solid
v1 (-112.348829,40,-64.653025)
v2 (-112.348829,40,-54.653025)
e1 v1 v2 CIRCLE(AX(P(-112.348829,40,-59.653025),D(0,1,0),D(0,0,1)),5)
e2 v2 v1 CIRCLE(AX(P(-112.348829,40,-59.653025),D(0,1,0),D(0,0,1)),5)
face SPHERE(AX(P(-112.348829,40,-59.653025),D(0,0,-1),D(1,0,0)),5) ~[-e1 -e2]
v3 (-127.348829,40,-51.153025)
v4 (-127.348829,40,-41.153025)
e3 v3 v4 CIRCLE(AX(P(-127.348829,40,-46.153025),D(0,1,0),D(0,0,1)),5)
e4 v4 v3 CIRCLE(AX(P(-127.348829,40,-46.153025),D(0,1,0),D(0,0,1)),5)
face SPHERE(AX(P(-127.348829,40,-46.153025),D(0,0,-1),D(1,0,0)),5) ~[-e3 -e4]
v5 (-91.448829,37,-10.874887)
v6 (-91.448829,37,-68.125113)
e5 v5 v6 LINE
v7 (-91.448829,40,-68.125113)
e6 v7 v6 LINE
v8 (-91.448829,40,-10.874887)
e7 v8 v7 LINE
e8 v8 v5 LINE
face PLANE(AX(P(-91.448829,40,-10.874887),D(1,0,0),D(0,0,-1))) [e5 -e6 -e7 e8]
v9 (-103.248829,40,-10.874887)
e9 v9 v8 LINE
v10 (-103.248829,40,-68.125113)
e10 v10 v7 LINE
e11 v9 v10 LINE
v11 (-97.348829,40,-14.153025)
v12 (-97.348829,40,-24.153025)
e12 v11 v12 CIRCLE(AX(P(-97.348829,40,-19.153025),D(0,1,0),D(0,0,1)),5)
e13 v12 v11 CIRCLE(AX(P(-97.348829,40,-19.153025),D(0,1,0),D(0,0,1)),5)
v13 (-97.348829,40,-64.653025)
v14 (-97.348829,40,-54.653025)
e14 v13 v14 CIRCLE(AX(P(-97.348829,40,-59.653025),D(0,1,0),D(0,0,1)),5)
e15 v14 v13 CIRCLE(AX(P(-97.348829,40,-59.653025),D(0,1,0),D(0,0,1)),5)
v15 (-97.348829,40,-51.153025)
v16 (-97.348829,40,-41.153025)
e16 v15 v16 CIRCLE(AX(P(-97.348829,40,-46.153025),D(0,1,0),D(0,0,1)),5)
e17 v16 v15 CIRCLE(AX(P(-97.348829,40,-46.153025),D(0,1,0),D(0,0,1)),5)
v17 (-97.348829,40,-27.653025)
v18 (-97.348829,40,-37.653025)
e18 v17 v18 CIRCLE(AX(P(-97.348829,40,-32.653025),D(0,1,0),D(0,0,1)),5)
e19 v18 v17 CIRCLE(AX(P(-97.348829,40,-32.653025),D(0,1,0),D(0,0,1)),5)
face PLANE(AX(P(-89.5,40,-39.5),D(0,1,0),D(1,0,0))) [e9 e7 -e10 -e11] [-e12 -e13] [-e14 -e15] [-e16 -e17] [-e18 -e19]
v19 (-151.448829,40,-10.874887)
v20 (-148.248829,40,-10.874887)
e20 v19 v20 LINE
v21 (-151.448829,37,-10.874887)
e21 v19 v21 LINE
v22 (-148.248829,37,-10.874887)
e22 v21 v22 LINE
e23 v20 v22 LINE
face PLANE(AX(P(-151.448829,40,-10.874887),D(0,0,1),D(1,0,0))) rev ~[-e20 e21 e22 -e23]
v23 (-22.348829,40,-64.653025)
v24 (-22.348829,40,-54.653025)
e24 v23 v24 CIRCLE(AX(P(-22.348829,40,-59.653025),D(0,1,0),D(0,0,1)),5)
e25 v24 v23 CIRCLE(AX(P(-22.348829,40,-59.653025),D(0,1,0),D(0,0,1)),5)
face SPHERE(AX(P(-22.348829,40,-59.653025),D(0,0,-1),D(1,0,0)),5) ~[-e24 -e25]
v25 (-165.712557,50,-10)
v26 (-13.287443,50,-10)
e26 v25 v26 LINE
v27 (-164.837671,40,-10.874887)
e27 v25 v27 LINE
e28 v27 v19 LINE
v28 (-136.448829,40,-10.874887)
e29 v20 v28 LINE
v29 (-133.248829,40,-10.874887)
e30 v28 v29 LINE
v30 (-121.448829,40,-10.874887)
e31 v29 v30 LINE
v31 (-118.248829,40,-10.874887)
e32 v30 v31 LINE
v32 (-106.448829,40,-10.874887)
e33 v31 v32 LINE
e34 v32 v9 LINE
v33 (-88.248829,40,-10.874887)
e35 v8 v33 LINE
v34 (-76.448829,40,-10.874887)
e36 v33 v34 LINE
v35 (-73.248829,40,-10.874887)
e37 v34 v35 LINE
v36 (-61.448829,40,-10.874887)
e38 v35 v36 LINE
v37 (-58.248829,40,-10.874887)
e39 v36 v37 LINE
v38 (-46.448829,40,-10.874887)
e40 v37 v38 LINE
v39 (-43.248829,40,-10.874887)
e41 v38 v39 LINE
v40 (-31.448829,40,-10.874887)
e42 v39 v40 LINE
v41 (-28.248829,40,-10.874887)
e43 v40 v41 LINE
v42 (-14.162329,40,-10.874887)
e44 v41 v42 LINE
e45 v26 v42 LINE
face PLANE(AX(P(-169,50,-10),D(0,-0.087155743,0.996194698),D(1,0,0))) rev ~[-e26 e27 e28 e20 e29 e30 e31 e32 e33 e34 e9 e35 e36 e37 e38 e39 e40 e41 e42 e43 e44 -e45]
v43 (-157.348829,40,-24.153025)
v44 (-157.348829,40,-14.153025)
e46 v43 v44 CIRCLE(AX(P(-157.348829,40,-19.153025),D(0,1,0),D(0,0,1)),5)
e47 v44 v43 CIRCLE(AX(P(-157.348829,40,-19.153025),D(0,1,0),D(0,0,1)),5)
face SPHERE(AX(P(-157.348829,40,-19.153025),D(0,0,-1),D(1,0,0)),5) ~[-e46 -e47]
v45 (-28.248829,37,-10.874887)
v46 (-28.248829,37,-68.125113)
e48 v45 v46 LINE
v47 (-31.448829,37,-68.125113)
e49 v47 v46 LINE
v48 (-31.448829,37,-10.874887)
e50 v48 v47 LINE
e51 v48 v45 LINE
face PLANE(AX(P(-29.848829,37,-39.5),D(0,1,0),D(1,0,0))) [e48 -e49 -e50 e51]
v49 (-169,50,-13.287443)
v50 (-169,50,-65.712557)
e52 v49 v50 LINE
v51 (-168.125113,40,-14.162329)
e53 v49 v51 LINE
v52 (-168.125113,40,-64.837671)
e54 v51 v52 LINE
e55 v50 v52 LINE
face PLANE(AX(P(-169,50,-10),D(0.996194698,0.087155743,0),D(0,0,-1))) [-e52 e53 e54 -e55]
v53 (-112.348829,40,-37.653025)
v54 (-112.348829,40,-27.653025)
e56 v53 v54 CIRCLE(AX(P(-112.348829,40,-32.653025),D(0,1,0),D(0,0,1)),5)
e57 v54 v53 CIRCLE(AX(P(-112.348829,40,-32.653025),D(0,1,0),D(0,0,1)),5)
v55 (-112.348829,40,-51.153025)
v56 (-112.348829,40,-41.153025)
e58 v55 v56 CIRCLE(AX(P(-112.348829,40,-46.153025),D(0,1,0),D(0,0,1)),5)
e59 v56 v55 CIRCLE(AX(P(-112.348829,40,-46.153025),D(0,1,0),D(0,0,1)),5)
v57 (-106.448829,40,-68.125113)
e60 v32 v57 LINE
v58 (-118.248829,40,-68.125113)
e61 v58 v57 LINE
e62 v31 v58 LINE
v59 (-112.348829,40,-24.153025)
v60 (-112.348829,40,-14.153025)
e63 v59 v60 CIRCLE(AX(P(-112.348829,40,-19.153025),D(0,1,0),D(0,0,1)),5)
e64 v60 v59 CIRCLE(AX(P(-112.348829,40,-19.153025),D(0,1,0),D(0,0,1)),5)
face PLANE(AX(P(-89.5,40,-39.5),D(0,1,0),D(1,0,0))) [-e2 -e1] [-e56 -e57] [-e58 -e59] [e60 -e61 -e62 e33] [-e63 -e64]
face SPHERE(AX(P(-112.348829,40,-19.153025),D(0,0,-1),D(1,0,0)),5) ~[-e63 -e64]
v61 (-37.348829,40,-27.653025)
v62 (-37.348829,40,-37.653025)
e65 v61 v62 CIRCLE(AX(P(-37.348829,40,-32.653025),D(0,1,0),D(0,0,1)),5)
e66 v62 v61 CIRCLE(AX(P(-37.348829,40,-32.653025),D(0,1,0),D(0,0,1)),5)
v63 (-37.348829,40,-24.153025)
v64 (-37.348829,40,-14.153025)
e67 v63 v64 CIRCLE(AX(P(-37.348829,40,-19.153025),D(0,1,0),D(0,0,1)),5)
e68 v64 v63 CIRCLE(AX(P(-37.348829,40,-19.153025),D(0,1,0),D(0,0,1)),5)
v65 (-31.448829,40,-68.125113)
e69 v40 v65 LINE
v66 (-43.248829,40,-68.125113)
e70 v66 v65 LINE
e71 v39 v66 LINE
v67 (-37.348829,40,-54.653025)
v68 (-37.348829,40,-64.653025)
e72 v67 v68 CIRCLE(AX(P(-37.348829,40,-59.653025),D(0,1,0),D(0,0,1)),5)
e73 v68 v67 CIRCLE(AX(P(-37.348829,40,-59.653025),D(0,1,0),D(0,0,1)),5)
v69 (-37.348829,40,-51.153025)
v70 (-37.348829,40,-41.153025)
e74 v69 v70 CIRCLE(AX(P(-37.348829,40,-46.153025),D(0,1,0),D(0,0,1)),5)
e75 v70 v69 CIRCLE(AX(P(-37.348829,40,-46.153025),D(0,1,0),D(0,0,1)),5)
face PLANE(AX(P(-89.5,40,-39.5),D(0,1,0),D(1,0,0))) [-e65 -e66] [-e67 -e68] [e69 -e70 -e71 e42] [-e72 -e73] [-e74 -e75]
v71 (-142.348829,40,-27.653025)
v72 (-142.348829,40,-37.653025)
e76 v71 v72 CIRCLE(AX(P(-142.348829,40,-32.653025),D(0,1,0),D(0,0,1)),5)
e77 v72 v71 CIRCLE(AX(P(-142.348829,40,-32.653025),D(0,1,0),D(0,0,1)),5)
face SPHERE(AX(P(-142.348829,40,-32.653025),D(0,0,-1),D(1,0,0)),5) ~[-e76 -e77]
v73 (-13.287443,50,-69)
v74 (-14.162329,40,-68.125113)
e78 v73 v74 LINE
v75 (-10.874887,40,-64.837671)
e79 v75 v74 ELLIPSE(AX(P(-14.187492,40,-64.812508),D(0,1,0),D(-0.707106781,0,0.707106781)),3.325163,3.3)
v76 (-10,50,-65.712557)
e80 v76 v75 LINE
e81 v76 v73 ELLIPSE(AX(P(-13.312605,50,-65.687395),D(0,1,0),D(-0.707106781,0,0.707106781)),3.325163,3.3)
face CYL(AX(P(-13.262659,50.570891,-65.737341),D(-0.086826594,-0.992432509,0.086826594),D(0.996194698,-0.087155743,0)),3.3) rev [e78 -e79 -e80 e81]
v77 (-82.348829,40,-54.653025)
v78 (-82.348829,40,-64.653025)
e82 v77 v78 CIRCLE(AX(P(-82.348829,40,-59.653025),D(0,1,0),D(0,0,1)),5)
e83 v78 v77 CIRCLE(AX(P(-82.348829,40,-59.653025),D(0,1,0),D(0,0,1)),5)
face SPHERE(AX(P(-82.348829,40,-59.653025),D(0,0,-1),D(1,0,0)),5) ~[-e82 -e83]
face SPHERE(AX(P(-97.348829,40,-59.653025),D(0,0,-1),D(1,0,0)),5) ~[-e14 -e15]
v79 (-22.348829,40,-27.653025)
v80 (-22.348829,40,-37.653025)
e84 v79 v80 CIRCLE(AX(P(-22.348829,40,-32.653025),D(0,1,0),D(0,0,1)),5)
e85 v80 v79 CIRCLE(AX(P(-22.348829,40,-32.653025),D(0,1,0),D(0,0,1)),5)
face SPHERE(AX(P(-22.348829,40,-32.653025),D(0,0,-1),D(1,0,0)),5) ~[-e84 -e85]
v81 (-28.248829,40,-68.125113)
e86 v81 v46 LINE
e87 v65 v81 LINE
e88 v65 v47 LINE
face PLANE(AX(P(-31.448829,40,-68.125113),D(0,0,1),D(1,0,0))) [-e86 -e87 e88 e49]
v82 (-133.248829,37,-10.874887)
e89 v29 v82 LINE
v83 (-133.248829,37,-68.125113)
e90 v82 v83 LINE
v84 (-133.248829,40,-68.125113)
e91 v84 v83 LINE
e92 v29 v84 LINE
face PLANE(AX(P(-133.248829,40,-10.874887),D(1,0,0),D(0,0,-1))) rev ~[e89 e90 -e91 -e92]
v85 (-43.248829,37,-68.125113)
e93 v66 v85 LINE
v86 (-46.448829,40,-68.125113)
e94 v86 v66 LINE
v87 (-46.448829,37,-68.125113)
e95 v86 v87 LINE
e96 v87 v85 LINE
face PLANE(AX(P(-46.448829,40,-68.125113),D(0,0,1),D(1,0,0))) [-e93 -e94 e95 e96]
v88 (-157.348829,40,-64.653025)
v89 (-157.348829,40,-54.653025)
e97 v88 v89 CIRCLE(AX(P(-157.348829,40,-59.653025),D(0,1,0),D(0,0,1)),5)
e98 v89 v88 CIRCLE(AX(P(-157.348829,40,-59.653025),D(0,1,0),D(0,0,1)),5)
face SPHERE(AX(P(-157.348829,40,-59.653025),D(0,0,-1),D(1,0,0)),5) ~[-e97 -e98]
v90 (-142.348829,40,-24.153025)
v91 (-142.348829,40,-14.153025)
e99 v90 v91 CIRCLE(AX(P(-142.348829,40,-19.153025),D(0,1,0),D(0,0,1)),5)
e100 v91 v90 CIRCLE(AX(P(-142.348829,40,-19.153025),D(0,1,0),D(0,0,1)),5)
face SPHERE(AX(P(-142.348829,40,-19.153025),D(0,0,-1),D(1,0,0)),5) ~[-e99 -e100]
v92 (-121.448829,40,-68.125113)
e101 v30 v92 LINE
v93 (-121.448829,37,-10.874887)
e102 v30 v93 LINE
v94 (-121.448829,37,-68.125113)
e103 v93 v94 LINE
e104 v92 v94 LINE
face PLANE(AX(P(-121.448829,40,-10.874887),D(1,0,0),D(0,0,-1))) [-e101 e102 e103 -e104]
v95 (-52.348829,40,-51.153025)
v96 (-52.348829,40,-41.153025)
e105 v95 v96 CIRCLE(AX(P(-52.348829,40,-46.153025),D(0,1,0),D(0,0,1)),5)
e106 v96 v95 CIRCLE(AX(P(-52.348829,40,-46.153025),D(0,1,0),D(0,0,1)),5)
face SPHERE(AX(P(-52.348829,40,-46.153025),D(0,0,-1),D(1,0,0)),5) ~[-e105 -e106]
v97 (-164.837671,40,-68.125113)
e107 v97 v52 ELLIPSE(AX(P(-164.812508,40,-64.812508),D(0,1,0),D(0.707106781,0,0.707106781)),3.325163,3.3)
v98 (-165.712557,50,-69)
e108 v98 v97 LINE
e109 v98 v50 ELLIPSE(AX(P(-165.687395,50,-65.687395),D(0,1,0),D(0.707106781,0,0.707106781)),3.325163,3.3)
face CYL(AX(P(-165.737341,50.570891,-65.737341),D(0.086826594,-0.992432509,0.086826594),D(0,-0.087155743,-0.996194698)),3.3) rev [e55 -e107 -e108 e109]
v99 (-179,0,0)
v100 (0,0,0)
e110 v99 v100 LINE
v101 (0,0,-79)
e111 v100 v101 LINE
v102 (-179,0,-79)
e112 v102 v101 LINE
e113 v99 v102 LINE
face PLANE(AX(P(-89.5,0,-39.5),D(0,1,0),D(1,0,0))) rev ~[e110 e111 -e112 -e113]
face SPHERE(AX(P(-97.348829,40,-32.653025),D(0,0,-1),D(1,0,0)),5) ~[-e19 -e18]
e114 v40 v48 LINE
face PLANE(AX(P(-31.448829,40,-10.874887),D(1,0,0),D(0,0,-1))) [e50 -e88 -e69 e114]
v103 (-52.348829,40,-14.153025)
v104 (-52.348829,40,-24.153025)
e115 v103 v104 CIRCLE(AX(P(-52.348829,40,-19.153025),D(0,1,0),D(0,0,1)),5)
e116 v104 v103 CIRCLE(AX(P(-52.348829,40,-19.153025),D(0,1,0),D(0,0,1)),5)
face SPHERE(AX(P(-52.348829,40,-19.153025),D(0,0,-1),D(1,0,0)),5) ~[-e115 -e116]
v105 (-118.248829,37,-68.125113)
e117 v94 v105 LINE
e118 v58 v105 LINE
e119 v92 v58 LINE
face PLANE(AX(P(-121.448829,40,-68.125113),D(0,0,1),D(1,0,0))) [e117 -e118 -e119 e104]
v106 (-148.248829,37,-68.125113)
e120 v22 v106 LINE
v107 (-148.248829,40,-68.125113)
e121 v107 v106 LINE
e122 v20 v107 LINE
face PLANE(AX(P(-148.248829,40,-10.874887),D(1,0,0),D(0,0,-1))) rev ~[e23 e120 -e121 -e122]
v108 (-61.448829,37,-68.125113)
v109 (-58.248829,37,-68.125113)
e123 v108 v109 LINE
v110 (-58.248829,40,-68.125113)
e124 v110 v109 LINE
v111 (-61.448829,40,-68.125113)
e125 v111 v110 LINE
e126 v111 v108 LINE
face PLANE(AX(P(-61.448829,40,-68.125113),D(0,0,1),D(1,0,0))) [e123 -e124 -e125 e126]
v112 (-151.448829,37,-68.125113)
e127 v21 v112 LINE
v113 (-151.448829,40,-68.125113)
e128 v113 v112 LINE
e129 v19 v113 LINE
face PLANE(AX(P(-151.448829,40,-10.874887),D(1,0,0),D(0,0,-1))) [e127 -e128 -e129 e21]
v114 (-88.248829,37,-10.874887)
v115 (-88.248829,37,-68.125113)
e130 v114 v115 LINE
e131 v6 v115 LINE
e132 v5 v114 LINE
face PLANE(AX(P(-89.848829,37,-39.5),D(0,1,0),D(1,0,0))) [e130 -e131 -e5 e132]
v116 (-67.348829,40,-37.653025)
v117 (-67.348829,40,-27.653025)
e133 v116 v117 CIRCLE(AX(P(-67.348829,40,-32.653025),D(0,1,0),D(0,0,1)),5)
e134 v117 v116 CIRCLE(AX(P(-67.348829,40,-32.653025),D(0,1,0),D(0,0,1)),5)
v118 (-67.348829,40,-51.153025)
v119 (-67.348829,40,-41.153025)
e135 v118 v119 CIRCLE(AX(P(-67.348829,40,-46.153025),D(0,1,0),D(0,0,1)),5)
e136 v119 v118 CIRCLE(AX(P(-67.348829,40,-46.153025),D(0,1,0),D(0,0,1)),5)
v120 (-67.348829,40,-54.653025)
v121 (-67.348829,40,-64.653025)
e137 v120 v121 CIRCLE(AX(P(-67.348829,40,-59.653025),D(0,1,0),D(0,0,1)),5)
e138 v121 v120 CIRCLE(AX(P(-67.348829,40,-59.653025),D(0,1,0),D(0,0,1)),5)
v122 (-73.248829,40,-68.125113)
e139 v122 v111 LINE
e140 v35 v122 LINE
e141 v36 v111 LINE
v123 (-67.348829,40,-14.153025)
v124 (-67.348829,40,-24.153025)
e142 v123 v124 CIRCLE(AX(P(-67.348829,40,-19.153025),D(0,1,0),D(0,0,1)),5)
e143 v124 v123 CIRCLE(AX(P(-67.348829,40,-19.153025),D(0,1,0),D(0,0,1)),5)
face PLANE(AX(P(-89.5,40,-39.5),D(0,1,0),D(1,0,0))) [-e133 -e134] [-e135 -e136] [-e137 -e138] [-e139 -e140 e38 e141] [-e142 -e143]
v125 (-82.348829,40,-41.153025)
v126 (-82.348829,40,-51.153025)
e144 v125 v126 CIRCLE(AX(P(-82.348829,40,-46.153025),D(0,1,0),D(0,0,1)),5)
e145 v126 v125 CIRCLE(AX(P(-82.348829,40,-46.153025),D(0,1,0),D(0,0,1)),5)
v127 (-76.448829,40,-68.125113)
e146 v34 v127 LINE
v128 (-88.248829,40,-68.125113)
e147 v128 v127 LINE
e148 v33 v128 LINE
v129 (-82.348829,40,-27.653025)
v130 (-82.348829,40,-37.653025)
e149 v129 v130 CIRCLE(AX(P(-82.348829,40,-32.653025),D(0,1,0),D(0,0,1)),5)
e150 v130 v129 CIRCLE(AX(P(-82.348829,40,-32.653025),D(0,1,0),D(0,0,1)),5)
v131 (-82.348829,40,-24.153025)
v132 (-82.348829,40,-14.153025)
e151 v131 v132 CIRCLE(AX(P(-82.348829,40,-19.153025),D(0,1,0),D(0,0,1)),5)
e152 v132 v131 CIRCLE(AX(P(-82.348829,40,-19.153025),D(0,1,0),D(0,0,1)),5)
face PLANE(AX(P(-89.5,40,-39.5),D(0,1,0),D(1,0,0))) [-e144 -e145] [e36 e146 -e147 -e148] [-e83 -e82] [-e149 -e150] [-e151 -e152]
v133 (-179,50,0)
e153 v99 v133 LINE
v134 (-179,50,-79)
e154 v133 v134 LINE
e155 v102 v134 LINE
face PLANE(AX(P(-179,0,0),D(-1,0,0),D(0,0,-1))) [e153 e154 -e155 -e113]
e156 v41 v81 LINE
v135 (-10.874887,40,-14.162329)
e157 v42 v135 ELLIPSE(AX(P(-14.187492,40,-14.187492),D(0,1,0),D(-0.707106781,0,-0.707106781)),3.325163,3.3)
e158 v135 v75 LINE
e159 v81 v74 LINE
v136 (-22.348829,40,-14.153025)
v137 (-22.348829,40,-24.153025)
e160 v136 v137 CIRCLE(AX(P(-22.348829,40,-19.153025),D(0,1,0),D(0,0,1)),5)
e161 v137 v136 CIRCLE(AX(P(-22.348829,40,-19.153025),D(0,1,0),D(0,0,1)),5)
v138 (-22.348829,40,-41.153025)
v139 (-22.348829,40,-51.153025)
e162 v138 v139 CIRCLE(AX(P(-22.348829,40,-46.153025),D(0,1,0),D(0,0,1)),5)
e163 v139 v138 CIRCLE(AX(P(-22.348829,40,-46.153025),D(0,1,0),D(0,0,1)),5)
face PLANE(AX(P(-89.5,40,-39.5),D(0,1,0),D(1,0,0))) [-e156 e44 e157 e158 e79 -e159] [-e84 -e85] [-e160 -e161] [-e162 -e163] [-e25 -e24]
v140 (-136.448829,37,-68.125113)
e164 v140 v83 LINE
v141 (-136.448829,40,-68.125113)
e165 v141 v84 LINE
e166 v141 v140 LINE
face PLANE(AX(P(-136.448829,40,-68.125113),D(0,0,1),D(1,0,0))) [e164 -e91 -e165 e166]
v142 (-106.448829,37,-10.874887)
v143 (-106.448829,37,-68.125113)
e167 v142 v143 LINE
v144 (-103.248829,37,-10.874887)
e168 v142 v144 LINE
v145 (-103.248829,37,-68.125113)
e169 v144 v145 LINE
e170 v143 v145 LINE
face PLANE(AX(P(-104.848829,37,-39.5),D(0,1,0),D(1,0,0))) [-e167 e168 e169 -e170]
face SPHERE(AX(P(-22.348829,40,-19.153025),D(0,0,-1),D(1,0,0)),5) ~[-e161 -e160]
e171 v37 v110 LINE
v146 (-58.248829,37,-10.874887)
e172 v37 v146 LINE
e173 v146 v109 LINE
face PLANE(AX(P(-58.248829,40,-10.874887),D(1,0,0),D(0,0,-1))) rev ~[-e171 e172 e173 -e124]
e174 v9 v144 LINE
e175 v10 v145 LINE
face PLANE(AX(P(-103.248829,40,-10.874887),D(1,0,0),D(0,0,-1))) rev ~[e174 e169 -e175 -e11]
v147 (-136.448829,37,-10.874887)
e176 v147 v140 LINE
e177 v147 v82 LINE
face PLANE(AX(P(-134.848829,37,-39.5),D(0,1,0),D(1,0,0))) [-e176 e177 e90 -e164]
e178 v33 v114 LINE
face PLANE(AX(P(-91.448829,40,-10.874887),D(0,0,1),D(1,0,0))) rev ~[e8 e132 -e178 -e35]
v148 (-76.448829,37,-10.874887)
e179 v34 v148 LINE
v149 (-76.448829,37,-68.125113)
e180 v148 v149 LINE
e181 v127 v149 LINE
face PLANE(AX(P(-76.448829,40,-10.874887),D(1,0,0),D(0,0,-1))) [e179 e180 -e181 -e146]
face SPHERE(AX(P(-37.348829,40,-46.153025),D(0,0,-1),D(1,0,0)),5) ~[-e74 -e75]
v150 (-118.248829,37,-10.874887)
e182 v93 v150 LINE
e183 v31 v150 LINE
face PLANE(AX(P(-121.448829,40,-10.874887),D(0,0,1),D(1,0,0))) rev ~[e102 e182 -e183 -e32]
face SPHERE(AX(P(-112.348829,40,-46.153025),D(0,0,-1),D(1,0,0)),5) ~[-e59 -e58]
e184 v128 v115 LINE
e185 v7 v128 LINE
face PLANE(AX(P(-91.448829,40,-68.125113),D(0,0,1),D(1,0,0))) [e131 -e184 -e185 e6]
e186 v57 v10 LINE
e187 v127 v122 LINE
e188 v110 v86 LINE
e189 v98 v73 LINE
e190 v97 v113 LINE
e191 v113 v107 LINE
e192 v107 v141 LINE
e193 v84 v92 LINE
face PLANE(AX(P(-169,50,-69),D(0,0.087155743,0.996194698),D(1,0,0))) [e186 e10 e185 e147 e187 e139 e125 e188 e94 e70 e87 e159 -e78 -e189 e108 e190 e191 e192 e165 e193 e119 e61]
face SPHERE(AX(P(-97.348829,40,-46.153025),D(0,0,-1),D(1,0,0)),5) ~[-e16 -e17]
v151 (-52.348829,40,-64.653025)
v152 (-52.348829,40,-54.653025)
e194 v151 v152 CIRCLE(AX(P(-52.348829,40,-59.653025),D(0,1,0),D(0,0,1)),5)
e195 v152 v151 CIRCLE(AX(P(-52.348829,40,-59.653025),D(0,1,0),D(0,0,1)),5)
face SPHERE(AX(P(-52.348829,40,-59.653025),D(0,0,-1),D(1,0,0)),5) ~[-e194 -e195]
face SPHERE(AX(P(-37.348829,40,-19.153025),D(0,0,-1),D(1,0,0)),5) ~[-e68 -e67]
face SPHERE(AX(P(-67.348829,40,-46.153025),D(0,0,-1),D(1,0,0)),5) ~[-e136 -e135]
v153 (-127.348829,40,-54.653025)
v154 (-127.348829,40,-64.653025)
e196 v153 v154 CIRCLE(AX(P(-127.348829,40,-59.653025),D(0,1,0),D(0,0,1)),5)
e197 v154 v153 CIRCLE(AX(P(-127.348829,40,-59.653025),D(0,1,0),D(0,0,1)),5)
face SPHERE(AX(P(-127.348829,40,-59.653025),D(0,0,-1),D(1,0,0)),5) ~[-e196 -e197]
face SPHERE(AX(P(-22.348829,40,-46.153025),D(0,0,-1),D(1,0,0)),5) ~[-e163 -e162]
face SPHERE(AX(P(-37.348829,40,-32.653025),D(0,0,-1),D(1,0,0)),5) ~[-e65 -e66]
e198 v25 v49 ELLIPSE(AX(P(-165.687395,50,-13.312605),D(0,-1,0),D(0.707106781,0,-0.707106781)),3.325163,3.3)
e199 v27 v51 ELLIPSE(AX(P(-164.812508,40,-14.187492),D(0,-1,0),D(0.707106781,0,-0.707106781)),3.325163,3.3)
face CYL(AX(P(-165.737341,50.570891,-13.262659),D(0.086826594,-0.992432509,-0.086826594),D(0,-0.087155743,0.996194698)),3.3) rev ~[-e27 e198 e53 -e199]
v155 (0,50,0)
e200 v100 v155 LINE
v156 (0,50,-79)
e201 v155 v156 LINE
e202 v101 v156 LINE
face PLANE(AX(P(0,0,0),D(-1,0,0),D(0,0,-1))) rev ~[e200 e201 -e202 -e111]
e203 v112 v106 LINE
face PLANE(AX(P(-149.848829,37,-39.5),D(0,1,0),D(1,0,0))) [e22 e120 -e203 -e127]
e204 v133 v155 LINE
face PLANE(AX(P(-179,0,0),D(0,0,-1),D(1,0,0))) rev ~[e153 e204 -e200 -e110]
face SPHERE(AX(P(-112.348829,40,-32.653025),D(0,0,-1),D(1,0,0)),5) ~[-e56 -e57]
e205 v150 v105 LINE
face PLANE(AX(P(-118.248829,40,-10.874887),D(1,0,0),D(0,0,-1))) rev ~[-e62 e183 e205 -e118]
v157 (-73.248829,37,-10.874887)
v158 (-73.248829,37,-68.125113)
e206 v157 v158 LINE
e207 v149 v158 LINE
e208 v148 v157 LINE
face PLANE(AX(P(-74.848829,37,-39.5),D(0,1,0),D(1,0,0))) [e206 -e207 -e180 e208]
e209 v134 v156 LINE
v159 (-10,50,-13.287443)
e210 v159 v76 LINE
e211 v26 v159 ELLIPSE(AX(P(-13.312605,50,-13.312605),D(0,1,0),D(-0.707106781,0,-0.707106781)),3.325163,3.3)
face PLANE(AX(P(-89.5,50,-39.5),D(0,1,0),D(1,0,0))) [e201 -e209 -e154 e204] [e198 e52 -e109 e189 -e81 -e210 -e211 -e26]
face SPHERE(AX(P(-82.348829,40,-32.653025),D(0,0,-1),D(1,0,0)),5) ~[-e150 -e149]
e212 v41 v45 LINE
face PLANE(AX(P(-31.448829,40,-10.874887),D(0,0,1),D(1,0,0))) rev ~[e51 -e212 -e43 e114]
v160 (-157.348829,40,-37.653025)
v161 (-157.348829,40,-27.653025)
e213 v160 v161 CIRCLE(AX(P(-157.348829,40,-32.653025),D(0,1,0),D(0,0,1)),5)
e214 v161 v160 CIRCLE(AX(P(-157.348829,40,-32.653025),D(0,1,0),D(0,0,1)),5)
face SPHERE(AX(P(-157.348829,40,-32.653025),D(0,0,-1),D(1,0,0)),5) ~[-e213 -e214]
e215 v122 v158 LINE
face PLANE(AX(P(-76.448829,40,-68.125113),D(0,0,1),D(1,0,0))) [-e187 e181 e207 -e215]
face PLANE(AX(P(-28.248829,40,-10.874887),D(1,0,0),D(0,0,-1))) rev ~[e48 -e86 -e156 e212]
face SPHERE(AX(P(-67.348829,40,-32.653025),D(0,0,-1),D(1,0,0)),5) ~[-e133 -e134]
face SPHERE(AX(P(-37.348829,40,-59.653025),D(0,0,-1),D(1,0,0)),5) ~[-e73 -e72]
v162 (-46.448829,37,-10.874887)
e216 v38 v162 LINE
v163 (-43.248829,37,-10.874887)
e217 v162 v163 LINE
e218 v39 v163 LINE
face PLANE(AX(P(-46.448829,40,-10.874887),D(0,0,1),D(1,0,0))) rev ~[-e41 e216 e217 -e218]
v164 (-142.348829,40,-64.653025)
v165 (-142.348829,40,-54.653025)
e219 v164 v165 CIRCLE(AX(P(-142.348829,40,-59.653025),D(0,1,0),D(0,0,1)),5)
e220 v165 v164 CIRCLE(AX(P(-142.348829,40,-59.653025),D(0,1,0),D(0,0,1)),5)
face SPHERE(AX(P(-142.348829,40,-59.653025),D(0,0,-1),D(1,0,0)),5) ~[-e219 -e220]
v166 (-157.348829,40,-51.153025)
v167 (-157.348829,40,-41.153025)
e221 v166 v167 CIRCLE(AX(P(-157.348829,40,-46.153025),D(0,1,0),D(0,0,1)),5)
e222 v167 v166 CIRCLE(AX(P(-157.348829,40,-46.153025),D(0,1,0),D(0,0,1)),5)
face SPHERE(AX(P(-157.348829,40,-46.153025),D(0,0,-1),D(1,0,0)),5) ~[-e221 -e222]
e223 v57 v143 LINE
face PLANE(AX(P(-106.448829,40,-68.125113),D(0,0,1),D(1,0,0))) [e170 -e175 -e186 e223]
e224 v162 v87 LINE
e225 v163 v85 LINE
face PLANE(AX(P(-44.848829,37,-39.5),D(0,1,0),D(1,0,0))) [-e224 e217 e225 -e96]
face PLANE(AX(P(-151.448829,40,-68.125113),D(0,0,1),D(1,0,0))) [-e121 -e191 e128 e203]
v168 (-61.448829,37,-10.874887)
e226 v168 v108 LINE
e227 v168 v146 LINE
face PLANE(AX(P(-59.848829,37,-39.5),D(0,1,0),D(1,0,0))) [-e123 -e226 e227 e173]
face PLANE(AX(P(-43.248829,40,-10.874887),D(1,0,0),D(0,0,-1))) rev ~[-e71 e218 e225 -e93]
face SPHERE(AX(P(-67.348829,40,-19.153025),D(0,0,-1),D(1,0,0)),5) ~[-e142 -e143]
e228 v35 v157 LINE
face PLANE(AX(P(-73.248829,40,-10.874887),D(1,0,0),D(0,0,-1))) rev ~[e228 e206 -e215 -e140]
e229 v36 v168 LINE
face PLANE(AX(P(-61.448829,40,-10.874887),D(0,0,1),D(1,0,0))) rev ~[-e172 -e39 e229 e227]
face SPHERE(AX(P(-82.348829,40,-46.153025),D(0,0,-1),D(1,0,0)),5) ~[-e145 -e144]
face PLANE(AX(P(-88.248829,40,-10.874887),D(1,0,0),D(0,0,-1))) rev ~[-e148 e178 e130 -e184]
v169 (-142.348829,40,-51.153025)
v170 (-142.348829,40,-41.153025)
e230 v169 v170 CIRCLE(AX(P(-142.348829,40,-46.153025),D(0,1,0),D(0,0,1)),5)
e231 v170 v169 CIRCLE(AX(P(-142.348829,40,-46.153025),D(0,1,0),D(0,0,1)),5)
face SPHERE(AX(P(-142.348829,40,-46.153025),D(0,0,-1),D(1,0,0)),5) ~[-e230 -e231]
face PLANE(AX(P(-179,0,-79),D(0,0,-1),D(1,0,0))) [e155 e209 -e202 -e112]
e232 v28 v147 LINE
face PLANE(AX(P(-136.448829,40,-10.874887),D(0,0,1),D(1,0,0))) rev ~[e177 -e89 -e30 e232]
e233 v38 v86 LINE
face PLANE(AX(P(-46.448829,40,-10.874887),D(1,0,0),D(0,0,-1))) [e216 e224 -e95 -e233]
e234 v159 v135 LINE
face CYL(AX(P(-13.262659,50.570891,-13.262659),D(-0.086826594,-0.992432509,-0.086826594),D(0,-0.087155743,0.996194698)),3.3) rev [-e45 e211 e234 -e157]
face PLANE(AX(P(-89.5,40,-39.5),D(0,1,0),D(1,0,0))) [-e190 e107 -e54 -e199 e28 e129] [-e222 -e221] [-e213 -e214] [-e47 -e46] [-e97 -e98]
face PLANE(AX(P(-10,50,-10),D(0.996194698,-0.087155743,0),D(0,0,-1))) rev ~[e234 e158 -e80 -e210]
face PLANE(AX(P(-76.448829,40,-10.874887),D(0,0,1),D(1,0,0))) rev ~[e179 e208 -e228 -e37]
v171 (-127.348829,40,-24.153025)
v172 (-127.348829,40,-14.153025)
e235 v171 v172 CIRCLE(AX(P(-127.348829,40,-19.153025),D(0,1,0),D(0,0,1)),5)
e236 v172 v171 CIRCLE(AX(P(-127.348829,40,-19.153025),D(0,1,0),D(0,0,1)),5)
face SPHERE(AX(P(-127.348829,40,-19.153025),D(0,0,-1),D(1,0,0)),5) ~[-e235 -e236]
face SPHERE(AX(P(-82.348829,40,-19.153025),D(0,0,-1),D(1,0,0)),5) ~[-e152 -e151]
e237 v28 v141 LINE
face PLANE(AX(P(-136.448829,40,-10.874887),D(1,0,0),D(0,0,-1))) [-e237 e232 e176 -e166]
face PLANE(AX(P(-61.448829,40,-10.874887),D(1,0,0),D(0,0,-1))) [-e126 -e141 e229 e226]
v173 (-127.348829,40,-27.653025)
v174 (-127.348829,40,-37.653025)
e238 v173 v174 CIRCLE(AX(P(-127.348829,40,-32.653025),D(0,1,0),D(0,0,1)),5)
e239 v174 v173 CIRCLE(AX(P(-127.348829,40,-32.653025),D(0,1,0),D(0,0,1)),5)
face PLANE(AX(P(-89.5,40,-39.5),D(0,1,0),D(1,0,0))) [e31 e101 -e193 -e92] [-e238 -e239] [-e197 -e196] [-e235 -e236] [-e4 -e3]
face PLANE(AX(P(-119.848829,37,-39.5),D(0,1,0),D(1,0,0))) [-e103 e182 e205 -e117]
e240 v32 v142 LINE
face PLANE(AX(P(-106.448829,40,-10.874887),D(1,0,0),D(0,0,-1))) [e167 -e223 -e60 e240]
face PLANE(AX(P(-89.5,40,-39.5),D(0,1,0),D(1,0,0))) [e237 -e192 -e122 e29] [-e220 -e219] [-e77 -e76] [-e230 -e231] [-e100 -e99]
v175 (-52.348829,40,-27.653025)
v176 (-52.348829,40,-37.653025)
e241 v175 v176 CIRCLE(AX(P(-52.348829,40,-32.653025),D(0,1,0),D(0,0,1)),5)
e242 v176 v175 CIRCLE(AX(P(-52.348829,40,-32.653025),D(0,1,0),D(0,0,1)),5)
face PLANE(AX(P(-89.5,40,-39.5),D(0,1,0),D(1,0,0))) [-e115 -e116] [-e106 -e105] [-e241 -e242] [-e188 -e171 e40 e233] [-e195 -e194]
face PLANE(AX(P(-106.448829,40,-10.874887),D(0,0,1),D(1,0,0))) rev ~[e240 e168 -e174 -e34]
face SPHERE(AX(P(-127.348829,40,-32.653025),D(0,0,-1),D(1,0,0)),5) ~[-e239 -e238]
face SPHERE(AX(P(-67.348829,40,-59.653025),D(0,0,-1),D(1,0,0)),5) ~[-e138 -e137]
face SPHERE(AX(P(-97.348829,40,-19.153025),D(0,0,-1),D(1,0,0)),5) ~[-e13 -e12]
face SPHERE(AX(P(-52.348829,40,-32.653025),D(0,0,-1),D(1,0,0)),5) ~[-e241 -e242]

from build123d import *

# Parameters (mm, degrees)
SKETCH1_W           = 179
SKETCH1_H           = 79
BOSS_EXTRUDE2_DEPTH = 50
SKETCH2_W           = 159
SKETCH2_H           = 59
CUT_EXTRUDE1_DEPTH  = 10
CUT_EXTRUDE1_DRAFT  = -5
FILLET1_R           = 3.3
LPATTERN1_COUNT     = 10
LPATTERN1_PITCH     = 15
LPATTERN2_COUNT     = 4
LPATTERN2_PITCH     = 13.5
SKETCH5_W           = 3.2
SKETCH5_H           = 57.25022673
CUT_EXTRUDE3_DEPTH  = 3


with BuildPart() as part:
    # Sketch1 → Boss-Extrude2 (new body)
    with BuildSketch(Plane(origin=(0, 0, 0), x_dir=(1, 0, 0), z_dir=(0, 1, 0))):
        with Locations((-89.5, 39.5)):
            Rectangle(SKETCH1_W, SKETCH1_H)
    extrude(amount=BOSS_EXTRUDE2_DEPTH)


with BuildPart() as cut_extrude1_tool:
    # Sketch2 → Cut-Extrude1 (with draft: the straight prism first)
    with BuildSketch(Plane(origin=(0, 50, 0), x_dir=(1, 0, 0), z_dir=(0, 1, 0))):
        with Locations((-89.5, 39.5)):
            Rectangle(SKETCH2_W, SKETCH2_H)
    extrude(amount=-CUT_EXTRUDE1_DEPTH)
    # Cut-Extrude1: the draft: its side faces are tilted about the plane it starts from
    cut_extrude1_sides = [cut_extrude1_tool.faces().sort_by_distance(p)[0] for p in [
        (-169, 45, -39.5),
        (-89.5, 45, -10),
        (-10, 45, -39.5),
        (-89.5, 45, -69),
    ]]
    draft(cut_extrude1_sides, Plane(origin=(0, 50, 0), x_dir=(1, 0, 0), z_dir=(0, 1, 0)), CUT_EXTRUDE1_DRAFT)


with BuildPart() as part_1:
    add(part.part)

    # Cut-Extrude1: cut by cut_extrude1_tool
    add(cut_extrude1_tool.part, mode=Mode.SUBTRACT)

    # Fillet1
    fillet1_edges = [part_1.edges().sort_by_distance(p)[0] for p in [
        (-168.562556682, 45, -10.437443318),
        (-168.562556682, 45, -68.562556682),
        (-10.437443318, 45, -68.562556682),
        (-10.437443318, 45, -10.437443318),
    ]]
    fillet(fillet1_edges, radius=FILLET1_R)

    # Sketch3 → Revolve2 (revolve)
    with BuildSketch(Plane(origin=(0, 40, 0), x_dir=(1, 0, 0), z_dir=(0, 1, 0))):
        with BuildLine():
            Line((-157.348828554, 64.653025264), (-157.348828554, 54.653025264))
            ThreePointArc((-157.348828554, 54.653025264), (-152.348828554, 59.653025264), (-157.348828554, 64.653025264))
        make_face()
    revolve2 = revolve(axis=Axis((-157.348828554, 40, -64.653025264), (0, 0, 1)))

    # LPattern1: Revolve2 ×10
    with Locations(*[(i * LPATTERN1_PITCH, 0, 0) for i in range(1, LPATTERN1_COUNT)]):
        add(revolve2)

    # LPattern2: Revolve2 ×4
    with Locations(*[(0, 0, i * LPATTERN2_PITCH) for i in range(1, LPATTERN2_COUNT)]):
        add(revolve2)

    # LPattern2 copy 1 sketch → LPattern2 copy 1 (revolve)
    with BuildSketch(Plane(origin=(15, 40, 13.5), x_dir=(1, 0, 0), z_dir=(0, 1, 0))):
        with BuildLine():
            Line((-157.348828554, 64.653025264), (-157.348828554, 54.653025264))
            ThreePointArc((-157.348828554, 54.653025264), (-152.348828554, 59.653025264), (-157.348828554, 64.653025264))
        make_face()
    revolve(axis=Axis((-142.348828554, 40, -51.153025264), (0, 0, 1)))

    # LPattern2 copy 2 sketch → LPattern2 copy 2 (revolve)
    with BuildSketch(Plane(origin=(15, 40, 27), x_dir=(1, 0, 0), z_dir=(0, 1, 0))):
        with BuildLine():
            Line((-157.348828554, 64.653025264), (-157.348828554, 54.653025264))
            ThreePointArc((-157.348828554, 54.653025264), (-152.348828554, 59.653025264), (-157.348828554, 64.653025264))
        make_face()
    revolve(axis=Axis((-142.348828554, 40, -37.653025264), (0, 0, 1)))

    # LPattern2 copy 3 sketch → LPattern2 copy 3 (revolve)
    with BuildSketch(Plane(origin=(15, 40, 40.5), x_dir=(1, 0, 0), z_dir=(0, 1, 0))):
        with BuildLine():
            Line((-157.348828554, 64.653025264), (-157.348828554, 54.653025264))
            ThreePointArc((-157.348828554, 54.653025264), (-152.348828554, 59.653025264), (-157.348828554, 64.653025264))
        make_face()
    revolve(axis=Axis((-142.348828554, 40, -24.153025264), (0, 0, 1)))

    # LPattern2 copy 4 sketch → LPattern2 copy 4 (revolve)
    with BuildSketch(Plane(origin=(30, 40, 13.5), x_dir=(1, 0, 0), z_dir=(0, 1, 0))):
        with BuildLine():
            Line((-157.348828554, 64.653025264), (-157.348828554, 54.653025264))
            ThreePointArc((-157.348828554, 54.653025264), (-152.348828554, 59.653025264), (-157.348828554, 64.653025264))
        make_face()
    revolve(axis=Axis((-127.348828554, 40, -51.153025264), (0, 0, 1)))

    # LPattern2 copy 5 sketch → LPattern2 copy 5 (revolve)
    with BuildSketch(Plane(origin=(30, 40, 27), x_dir=(1, 0, 0), z_dir=(0, 1, 0))):
        with BuildLine():
            Line((-157.348828554, 64.653025264), (-157.348828554, 54.653025264))
            ThreePointArc((-157.348828554, 54.653025264), (-152.348828554, 59.653025264), (-157.348828554, 64.653025264))
        make_face()
    revolve(axis=Axis((-127.348828554, 40, -37.653025264), (0, 0, 1)))

    # LPattern2 copy 6 sketch → LPattern2 copy 6 (revolve)
    with BuildSketch(Plane(origin=(30, 40, 40.5), x_dir=(1, 0, 0), z_dir=(0, 1, 0))):
        with BuildLine():
            Line((-157.348828554, 64.653025264), (-157.348828554, 54.653025264))
            ThreePointArc((-157.348828554, 54.653025264), (-152.348828554, 59.653025264), (-157.348828554, 64.653025264))
        make_face()
    revolve(axis=Axis((-127.348828554, 40, -24.153025264), (0, 0, 1)))

    # LPattern2 copy 7 sketch → LPattern2 copy 7 (revolve)
    with BuildSketch(Plane(origin=(45, 40, 13.5), x_dir=(1, 0, 0), z_dir=(0, 1, 0))):
        with BuildLine():
            Line((-157.348828554, 64.653025264), (-157.348828554, 54.653025264))
            ThreePointArc((-157.348828554, 54.653025264), (-152.348828554, 59.653025264), (-157.348828554, 64.653025264))
        make_face()
    revolve(axis=Axis((-112.348828554, 40, -51.153025264), (0, 0, 1)))

    # LPattern2 copy 8 sketch → LPattern2 copy 8 (revolve)
    with BuildSketch(Plane(origin=(45, 40, 27), x_dir=(1, 0, 0), z_dir=(0, 1, 0))):
        with BuildLine():
            Line((-157.348828554, 64.653025264), (-157.348828554, 54.653025264))
            ThreePointArc((-157.348828554, 54.653025264), (-152.348828554, 59.653025264), (-157.348828554, 64.653025264))
        make_face()
    revolve(axis=Axis((-112.348828554, 40, -37.653025264), (0, 0, 1)))

    # LPattern2 copy 9 sketch → LPattern2 copy 9 (revolve)
    with BuildSketch(Plane(origin=(45, 40, 40.5), x_dir=(1, 0, 0), z_dir=(0, 1, 0))):
        with BuildLine():
            Line((-157.348828554, 64.653025264), (-157.348828554, 54.653025264))
            ThreePointArc((-157.348828554, 54.653025264), (-152.348828554, 59.653025264), (-157.348828554, 64.653025264))
        make_face()
    revolve(axis=Axis((-112.348828554, 40, -24.153025264), (0, 0, 1)))

    # LPattern2 copy 10 sketch → LPattern2 copy 10 (revolve)
    with BuildSketch(Plane(origin=(60, 40, 13.5), x_dir=(1, 0, 0), z_dir=(0, 1, 0))):
        with BuildLine():
            Line((-157.348828554, 64.653025264), (-157.348828554, 54.653025264))
            ThreePointArc((-157.348828554, 54.653025264), (-152.348828554, 59.653025264), (-157.348828554, 64.653025264))
        make_face()
    revolve(axis=Axis((-97.348828554, 40, -51.153025264), (0, 0, 1)))

    # LPattern2 copy 11 sketch → LPattern2 copy 11 (revolve)
    with BuildSketch(Plane(origin=(60, 40, 27), x_dir=(1, 0, 0), z_dir=(0, 1, 0))):
        with BuildLine():
            Line((-157.348828554, 64.653025264), (-157.348828554, 54.653025264))
            ThreePointArc((-157.348828554, 54.653025264), (-152.348828554, 59.653025264), (-157.348828554, 64.653025264))
        make_face()
    revolve(axis=Axis((-97.348828554, 40, -37.653025264), (0, 0, 1)))

    # LPattern2 copy 12 sketch → LPattern2 copy 12 (revolve)
    with BuildSketch(Plane(origin=(60, 40, 40.5), x_dir=(1, 0, 0), z_dir=(0, 1, 0))):
        with BuildLine():
            Line((-157.348828554, 64.653025264), (-157.348828554, 54.653025264))
            ThreePointArc((-157.348828554, 54.653025264), (-152.348828554, 59.653025264), (-157.348828554, 64.653025264))
        make_face()
    revolve(axis=Axis((-97.348828554, 40, -24.153025264), (0, 0, 1)))

    # LPattern2 copy 13 sketch → LPattern2 copy 13 (revolve)
    with BuildSketch(Plane(origin=(75, 40, 13.5), x_dir=(1, 0, 0), z_dir=(0, 1, 0))):
        with BuildLine():
            Line((-157.348828554, 64.653025264), (-157.348828554, 54.653025264))
            ThreePointArc((-157.348828554, 54.653025264), (-152.348828554, 59.653025264), (-157.348828554, 64.653025264))
        make_face()
    revolve(axis=Axis((-82.348828554, 40, -51.153025264), (0, 0, 1)))

    # LPattern2 copy 14 sketch → LPattern2 copy 14 (revolve)
    with BuildSketch(Plane(origin=(75, 40, 27), x_dir=(1, 0, 0), z_dir=(0, 1, 0))):
        with BuildLine():
            Line((-157.348828554, 64.653025264), (-157.348828554, 54.653025264))
            ThreePointArc((-157.348828554, 54.653025264), (-152.348828554, 59.653025264), (-157.348828554, 64.653025264))
        make_face()
    revolve(axis=Axis((-82.348828554, 40, -37.653025264), (0, 0, 1)))

    # LPattern2 copy 15 sketch → LPattern2 copy 15 (revolve)
    with BuildSketch(Plane(origin=(75, 40, 40.5), x_dir=(1, 0, 0), z_dir=(0, 1, 0))):
        with BuildLine():
            Line((-157.348828554, 64.653025264), (-157.348828554, 54.653025264))
            ThreePointArc((-157.348828554, 54.653025264), (-152.348828554, 59.653025264), (-157.348828554, 64.653025264))
        make_face()
    revolve(axis=Axis((-82.348828554, 40, -24.153025264), (0, 0, 1)))

    # LPattern2 copy 16 sketch → LPattern2 copy 16 (revolve)
    with BuildSketch(Plane(origin=(90, 40, 13.5), x_dir=(1, 0, 0), z_dir=(0, 1, 0))):
        with BuildLine():
            Line((-157.348828554, 64.653025264), (-157.348828554, 54.653025264))
            ThreePointArc((-157.348828554, 54.653025264), (-152.348828554, 59.653025264), (-157.348828554, 64.653025264))
        make_face()
    revolve(axis=Axis((-67.348828554, 40, -51.153025264), (0, 0, 1)))

    # LPattern2 copy 17 sketch → LPattern2 copy 17 (revolve)
    with BuildSketch(Plane(origin=(90, 40, 27), x_dir=(1, 0, 0), z_dir=(0, 1, 0))):
        with BuildLine():
            Line((-157.348828554, 64.653025264), (-157.348828554, 54.653025264))
            ThreePointArc((-157.348828554, 54.653025264), (-152.348828554, 59.653025264), (-157.348828554, 64.653025264))
        make_face()
    revolve(axis=Axis((-67.348828554, 40, -37.653025264), (0, 0, 1)))

    # LPattern2 copy 18 sketch → LPattern2 copy 18 (revolve)
    with BuildSketch(Plane(origin=(90, 40, 40.5), x_dir=(1, 0, 0), z_dir=(0, 1, 0))):
        with BuildLine():
            Line((-157.348828554, 64.653025264), (-157.348828554, 54.653025264))
            ThreePointArc((-157.348828554, 54.653025264), (-152.348828554, 59.653025264), (-157.348828554, 64.653025264))
        make_face()
    revolve(axis=Axis((-67.348828554, 40, -24.153025264), (0, 0, 1)))

    # LPattern2 copy 19 sketch → LPattern2 copy 19 (revolve)
    with BuildSketch(Plane(origin=(105, 40, 13.5), x_dir=(1, 0, 0), z_dir=(0, 1, 0))):
        with BuildLine():
            Line((-157.348828554, 64.653025264), (-157.348828554, 54.653025264))
            ThreePointArc((-157.348828554, 54.653025264), (-152.348828554, 59.653025264), (-157.348828554, 64.653025264))
        make_face()
    revolve(axis=Axis((-52.348828554, 40, -51.153025264), (0, 0, 1)))

    # LPattern2 copy 20 sketch → LPattern2 copy 20 (revolve)
    with BuildSketch(Plane(origin=(105, 40, 27), x_dir=(1, 0, 0), z_dir=(0, 1, 0))):
        with BuildLine():
            Line((-157.348828554, 64.653025264), (-157.348828554, 54.653025264))
            ThreePointArc((-157.348828554, 54.653025264), (-152.348828554, 59.653025264), (-157.348828554, 64.653025264))
        make_face()
    revolve(axis=Axis((-52.348828554, 40, -37.653025264), (0, 0, 1)))

    # LPattern2 copy 21 sketch → LPattern2 copy 21 (revolve)
    with BuildSketch(Plane(origin=(105, 40, 40.5), x_dir=(1, 0, 0), z_dir=(0, 1, 0))):
        with BuildLine():
            Line((-157.348828554, 64.653025264), (-157.348828554, 54.653025264))
            ThreePointArc((-157.348828554, 54.653025264), (-152.348828554, 59.653025264), (-157.348828554, 64.653025264))
        make_face()
    revolve(axis=Axis((-52.348828554, 40, -24.153025264), (0, 0, 1)))

    # LPattern2 copy 22 sketch → LPattern2 copy 22 (revolve)
    with BuildSketch(Plane(origin=(120, 40, 13.5), x_dir=(1, 0, 0), z_dir=(0, 1, 0))):
        with BuildLine():
            Line((-157.348828554, 64.653025264), (-157.348828554, 54.653025264))
            ThreePointArc((-157.348828554, 54.653025264), (-152.348828554, 59.653025264), (-157.348828554, 64.653025264))
        make_face()
    revolve(axis=Axis((-37.348828554, 40, -51.153025264), (0, 0, 1)))

    # LPattern2 copy 23 sketch → LPattern2 copy 23 (revolve)
    with BuildSketch(Plane(origin=(120, 40, 27), x_dir=(1, 0, 0), z_dir=(0, 1, 0))):
        with BuildLine():
            Line((-157.348828554, 64.653025264), (-157.348828554, 54.653025264))
            ThreePointArc((-157.348828554, 54.653025264), (-152.348828554, 59.653025264), (-157.348828554, 64.653025264))
        make_face()
    revolve(axis=Axis((-37.348828554, 40, -37.653025264), (0, 0, 1)))

    # LPattern2 copy 24 sketch → LPattern2 copy 24 (revolve)
    with BuildSketch(Plane(origin=(120, 40, 40.5), x_dir=(1, 0, 0), z_dir=(0, 1, 0))):
        with BuildLine():
            Line((-157.348828554, 64.653025264), (-157.348828554, 54.653025264))
            ThreePointArc((-157.348828554, 54.653025264), (-152.348828554, 59.653025264), (-157.348828554, 64.653025264))
        make_face()
    revolve(axis=Axis((-37.348828554, 40, -24.153025264), (0, 0, 1)))

    # LPattern2 copy 25 sketch → LPattern2 copy 25 (revolve)
    with BuildSketch(Plane(origin=(135, 40, 13.5), x_dir=(1, 0, 0), z_dir=(0, 1, 0))):
        with BuildLine():
            Line((-157.348828554, 64.653025264), (-157.348828554, 54.653025264))
            ThreePointArc((-157.348828554, 54.653025264), (-152.348828554, 59.653025264), (-157.348828554, 64.653025264))
        make_face()
    revolve(axis=Axis((-22.348828554, 40, -51.153025264), (0, 0, 1)))

    # LPattern2 copy 26 sketch → LPattern2 copy 26 (revolve)
    with BuildSketch(Plane(origin=(135, 40, 27), x_dir=(1, 0, 0), z_dir=(0, 1, 0))):
        with BuildLine():
            Line((-157.348828554, 64.653025264), (-157.348828554, 54.653025264))
            ThreePointArc((-157.348828554, 54.653025264), (-152.348828554, 59.653025264), (-157.348828554, 64.653025264))
        make_face()
    revolve(axis=Axis((-22.348828554, 40, -37.653025264), (0, 0, 1)))

    # LPattern2 copy 27 sketch → LPattern2 copy 27 (revolve)
    with BuildSketch(Plane(origin=(135, 40, 40.5), x_dir=(1, 0, 0), z_dir=(0, 1, 0))):
        with BuildLine():
            Line((-157.348828554, 64.653025264), (-157.348828554, 54.653025264))
            ThreePointArc((-157.348828554, 54.653025264), (-152.348828554, 59.653025264), (-157.348828554, 64.653025264))
        make_face()
    revolve(axis=Axis((-22.348828554, 40, -24.153025264), (0, 0, 1)))

    # Sketch5 → Cut-Extrude3 (cut)
    with BuildSketch(Plane(origin=(0, 40, 0), x_dir=(1, 0, 0), z_dir=(0, 1, 0))):
        with Locations((-119.848828554, 39.5)):
            Rectangle(SKETCH5_W, SKETCH5_H)
        with Locations((-89.848828554, 39.5)):
            Rectangle(SKETCH5_W, SKETCH5_H)
        with Locations((-74.848828554, 39.5)):
            Rectangle(SKETCH5_W, SKETCH5_H)
        with Locations((-59.848828554, 39.5)):
            Rectangle(SKETCH5_W, SKETCH5_H)
        with Locations((-29.848828554, 39.5)):
            Rectangle(SKETCH5_W, SKETCH5_H)
        with Locations((-134.848828554, 39.5)):
            Rectangle(SKETCH5_W, SKETCH5_H)
        with Locations((-149.848828554, 39.5)):
            Rectangle(SKETCH5_W, SKETCH5_H)
        with Locations((-104.848828554, 39.5)):
            Rectangle(SKETCH5_W, SKETCH5_H)
        with Locations((-44.848828554, 39.5)):
            Rectangle(SKETCH5_W, SKETCH5_H)
    extrude(amount=-CUT_EXTRUDE3_DEPTH, mode=Mode.SUBTRACT)


solid = part_1.part
